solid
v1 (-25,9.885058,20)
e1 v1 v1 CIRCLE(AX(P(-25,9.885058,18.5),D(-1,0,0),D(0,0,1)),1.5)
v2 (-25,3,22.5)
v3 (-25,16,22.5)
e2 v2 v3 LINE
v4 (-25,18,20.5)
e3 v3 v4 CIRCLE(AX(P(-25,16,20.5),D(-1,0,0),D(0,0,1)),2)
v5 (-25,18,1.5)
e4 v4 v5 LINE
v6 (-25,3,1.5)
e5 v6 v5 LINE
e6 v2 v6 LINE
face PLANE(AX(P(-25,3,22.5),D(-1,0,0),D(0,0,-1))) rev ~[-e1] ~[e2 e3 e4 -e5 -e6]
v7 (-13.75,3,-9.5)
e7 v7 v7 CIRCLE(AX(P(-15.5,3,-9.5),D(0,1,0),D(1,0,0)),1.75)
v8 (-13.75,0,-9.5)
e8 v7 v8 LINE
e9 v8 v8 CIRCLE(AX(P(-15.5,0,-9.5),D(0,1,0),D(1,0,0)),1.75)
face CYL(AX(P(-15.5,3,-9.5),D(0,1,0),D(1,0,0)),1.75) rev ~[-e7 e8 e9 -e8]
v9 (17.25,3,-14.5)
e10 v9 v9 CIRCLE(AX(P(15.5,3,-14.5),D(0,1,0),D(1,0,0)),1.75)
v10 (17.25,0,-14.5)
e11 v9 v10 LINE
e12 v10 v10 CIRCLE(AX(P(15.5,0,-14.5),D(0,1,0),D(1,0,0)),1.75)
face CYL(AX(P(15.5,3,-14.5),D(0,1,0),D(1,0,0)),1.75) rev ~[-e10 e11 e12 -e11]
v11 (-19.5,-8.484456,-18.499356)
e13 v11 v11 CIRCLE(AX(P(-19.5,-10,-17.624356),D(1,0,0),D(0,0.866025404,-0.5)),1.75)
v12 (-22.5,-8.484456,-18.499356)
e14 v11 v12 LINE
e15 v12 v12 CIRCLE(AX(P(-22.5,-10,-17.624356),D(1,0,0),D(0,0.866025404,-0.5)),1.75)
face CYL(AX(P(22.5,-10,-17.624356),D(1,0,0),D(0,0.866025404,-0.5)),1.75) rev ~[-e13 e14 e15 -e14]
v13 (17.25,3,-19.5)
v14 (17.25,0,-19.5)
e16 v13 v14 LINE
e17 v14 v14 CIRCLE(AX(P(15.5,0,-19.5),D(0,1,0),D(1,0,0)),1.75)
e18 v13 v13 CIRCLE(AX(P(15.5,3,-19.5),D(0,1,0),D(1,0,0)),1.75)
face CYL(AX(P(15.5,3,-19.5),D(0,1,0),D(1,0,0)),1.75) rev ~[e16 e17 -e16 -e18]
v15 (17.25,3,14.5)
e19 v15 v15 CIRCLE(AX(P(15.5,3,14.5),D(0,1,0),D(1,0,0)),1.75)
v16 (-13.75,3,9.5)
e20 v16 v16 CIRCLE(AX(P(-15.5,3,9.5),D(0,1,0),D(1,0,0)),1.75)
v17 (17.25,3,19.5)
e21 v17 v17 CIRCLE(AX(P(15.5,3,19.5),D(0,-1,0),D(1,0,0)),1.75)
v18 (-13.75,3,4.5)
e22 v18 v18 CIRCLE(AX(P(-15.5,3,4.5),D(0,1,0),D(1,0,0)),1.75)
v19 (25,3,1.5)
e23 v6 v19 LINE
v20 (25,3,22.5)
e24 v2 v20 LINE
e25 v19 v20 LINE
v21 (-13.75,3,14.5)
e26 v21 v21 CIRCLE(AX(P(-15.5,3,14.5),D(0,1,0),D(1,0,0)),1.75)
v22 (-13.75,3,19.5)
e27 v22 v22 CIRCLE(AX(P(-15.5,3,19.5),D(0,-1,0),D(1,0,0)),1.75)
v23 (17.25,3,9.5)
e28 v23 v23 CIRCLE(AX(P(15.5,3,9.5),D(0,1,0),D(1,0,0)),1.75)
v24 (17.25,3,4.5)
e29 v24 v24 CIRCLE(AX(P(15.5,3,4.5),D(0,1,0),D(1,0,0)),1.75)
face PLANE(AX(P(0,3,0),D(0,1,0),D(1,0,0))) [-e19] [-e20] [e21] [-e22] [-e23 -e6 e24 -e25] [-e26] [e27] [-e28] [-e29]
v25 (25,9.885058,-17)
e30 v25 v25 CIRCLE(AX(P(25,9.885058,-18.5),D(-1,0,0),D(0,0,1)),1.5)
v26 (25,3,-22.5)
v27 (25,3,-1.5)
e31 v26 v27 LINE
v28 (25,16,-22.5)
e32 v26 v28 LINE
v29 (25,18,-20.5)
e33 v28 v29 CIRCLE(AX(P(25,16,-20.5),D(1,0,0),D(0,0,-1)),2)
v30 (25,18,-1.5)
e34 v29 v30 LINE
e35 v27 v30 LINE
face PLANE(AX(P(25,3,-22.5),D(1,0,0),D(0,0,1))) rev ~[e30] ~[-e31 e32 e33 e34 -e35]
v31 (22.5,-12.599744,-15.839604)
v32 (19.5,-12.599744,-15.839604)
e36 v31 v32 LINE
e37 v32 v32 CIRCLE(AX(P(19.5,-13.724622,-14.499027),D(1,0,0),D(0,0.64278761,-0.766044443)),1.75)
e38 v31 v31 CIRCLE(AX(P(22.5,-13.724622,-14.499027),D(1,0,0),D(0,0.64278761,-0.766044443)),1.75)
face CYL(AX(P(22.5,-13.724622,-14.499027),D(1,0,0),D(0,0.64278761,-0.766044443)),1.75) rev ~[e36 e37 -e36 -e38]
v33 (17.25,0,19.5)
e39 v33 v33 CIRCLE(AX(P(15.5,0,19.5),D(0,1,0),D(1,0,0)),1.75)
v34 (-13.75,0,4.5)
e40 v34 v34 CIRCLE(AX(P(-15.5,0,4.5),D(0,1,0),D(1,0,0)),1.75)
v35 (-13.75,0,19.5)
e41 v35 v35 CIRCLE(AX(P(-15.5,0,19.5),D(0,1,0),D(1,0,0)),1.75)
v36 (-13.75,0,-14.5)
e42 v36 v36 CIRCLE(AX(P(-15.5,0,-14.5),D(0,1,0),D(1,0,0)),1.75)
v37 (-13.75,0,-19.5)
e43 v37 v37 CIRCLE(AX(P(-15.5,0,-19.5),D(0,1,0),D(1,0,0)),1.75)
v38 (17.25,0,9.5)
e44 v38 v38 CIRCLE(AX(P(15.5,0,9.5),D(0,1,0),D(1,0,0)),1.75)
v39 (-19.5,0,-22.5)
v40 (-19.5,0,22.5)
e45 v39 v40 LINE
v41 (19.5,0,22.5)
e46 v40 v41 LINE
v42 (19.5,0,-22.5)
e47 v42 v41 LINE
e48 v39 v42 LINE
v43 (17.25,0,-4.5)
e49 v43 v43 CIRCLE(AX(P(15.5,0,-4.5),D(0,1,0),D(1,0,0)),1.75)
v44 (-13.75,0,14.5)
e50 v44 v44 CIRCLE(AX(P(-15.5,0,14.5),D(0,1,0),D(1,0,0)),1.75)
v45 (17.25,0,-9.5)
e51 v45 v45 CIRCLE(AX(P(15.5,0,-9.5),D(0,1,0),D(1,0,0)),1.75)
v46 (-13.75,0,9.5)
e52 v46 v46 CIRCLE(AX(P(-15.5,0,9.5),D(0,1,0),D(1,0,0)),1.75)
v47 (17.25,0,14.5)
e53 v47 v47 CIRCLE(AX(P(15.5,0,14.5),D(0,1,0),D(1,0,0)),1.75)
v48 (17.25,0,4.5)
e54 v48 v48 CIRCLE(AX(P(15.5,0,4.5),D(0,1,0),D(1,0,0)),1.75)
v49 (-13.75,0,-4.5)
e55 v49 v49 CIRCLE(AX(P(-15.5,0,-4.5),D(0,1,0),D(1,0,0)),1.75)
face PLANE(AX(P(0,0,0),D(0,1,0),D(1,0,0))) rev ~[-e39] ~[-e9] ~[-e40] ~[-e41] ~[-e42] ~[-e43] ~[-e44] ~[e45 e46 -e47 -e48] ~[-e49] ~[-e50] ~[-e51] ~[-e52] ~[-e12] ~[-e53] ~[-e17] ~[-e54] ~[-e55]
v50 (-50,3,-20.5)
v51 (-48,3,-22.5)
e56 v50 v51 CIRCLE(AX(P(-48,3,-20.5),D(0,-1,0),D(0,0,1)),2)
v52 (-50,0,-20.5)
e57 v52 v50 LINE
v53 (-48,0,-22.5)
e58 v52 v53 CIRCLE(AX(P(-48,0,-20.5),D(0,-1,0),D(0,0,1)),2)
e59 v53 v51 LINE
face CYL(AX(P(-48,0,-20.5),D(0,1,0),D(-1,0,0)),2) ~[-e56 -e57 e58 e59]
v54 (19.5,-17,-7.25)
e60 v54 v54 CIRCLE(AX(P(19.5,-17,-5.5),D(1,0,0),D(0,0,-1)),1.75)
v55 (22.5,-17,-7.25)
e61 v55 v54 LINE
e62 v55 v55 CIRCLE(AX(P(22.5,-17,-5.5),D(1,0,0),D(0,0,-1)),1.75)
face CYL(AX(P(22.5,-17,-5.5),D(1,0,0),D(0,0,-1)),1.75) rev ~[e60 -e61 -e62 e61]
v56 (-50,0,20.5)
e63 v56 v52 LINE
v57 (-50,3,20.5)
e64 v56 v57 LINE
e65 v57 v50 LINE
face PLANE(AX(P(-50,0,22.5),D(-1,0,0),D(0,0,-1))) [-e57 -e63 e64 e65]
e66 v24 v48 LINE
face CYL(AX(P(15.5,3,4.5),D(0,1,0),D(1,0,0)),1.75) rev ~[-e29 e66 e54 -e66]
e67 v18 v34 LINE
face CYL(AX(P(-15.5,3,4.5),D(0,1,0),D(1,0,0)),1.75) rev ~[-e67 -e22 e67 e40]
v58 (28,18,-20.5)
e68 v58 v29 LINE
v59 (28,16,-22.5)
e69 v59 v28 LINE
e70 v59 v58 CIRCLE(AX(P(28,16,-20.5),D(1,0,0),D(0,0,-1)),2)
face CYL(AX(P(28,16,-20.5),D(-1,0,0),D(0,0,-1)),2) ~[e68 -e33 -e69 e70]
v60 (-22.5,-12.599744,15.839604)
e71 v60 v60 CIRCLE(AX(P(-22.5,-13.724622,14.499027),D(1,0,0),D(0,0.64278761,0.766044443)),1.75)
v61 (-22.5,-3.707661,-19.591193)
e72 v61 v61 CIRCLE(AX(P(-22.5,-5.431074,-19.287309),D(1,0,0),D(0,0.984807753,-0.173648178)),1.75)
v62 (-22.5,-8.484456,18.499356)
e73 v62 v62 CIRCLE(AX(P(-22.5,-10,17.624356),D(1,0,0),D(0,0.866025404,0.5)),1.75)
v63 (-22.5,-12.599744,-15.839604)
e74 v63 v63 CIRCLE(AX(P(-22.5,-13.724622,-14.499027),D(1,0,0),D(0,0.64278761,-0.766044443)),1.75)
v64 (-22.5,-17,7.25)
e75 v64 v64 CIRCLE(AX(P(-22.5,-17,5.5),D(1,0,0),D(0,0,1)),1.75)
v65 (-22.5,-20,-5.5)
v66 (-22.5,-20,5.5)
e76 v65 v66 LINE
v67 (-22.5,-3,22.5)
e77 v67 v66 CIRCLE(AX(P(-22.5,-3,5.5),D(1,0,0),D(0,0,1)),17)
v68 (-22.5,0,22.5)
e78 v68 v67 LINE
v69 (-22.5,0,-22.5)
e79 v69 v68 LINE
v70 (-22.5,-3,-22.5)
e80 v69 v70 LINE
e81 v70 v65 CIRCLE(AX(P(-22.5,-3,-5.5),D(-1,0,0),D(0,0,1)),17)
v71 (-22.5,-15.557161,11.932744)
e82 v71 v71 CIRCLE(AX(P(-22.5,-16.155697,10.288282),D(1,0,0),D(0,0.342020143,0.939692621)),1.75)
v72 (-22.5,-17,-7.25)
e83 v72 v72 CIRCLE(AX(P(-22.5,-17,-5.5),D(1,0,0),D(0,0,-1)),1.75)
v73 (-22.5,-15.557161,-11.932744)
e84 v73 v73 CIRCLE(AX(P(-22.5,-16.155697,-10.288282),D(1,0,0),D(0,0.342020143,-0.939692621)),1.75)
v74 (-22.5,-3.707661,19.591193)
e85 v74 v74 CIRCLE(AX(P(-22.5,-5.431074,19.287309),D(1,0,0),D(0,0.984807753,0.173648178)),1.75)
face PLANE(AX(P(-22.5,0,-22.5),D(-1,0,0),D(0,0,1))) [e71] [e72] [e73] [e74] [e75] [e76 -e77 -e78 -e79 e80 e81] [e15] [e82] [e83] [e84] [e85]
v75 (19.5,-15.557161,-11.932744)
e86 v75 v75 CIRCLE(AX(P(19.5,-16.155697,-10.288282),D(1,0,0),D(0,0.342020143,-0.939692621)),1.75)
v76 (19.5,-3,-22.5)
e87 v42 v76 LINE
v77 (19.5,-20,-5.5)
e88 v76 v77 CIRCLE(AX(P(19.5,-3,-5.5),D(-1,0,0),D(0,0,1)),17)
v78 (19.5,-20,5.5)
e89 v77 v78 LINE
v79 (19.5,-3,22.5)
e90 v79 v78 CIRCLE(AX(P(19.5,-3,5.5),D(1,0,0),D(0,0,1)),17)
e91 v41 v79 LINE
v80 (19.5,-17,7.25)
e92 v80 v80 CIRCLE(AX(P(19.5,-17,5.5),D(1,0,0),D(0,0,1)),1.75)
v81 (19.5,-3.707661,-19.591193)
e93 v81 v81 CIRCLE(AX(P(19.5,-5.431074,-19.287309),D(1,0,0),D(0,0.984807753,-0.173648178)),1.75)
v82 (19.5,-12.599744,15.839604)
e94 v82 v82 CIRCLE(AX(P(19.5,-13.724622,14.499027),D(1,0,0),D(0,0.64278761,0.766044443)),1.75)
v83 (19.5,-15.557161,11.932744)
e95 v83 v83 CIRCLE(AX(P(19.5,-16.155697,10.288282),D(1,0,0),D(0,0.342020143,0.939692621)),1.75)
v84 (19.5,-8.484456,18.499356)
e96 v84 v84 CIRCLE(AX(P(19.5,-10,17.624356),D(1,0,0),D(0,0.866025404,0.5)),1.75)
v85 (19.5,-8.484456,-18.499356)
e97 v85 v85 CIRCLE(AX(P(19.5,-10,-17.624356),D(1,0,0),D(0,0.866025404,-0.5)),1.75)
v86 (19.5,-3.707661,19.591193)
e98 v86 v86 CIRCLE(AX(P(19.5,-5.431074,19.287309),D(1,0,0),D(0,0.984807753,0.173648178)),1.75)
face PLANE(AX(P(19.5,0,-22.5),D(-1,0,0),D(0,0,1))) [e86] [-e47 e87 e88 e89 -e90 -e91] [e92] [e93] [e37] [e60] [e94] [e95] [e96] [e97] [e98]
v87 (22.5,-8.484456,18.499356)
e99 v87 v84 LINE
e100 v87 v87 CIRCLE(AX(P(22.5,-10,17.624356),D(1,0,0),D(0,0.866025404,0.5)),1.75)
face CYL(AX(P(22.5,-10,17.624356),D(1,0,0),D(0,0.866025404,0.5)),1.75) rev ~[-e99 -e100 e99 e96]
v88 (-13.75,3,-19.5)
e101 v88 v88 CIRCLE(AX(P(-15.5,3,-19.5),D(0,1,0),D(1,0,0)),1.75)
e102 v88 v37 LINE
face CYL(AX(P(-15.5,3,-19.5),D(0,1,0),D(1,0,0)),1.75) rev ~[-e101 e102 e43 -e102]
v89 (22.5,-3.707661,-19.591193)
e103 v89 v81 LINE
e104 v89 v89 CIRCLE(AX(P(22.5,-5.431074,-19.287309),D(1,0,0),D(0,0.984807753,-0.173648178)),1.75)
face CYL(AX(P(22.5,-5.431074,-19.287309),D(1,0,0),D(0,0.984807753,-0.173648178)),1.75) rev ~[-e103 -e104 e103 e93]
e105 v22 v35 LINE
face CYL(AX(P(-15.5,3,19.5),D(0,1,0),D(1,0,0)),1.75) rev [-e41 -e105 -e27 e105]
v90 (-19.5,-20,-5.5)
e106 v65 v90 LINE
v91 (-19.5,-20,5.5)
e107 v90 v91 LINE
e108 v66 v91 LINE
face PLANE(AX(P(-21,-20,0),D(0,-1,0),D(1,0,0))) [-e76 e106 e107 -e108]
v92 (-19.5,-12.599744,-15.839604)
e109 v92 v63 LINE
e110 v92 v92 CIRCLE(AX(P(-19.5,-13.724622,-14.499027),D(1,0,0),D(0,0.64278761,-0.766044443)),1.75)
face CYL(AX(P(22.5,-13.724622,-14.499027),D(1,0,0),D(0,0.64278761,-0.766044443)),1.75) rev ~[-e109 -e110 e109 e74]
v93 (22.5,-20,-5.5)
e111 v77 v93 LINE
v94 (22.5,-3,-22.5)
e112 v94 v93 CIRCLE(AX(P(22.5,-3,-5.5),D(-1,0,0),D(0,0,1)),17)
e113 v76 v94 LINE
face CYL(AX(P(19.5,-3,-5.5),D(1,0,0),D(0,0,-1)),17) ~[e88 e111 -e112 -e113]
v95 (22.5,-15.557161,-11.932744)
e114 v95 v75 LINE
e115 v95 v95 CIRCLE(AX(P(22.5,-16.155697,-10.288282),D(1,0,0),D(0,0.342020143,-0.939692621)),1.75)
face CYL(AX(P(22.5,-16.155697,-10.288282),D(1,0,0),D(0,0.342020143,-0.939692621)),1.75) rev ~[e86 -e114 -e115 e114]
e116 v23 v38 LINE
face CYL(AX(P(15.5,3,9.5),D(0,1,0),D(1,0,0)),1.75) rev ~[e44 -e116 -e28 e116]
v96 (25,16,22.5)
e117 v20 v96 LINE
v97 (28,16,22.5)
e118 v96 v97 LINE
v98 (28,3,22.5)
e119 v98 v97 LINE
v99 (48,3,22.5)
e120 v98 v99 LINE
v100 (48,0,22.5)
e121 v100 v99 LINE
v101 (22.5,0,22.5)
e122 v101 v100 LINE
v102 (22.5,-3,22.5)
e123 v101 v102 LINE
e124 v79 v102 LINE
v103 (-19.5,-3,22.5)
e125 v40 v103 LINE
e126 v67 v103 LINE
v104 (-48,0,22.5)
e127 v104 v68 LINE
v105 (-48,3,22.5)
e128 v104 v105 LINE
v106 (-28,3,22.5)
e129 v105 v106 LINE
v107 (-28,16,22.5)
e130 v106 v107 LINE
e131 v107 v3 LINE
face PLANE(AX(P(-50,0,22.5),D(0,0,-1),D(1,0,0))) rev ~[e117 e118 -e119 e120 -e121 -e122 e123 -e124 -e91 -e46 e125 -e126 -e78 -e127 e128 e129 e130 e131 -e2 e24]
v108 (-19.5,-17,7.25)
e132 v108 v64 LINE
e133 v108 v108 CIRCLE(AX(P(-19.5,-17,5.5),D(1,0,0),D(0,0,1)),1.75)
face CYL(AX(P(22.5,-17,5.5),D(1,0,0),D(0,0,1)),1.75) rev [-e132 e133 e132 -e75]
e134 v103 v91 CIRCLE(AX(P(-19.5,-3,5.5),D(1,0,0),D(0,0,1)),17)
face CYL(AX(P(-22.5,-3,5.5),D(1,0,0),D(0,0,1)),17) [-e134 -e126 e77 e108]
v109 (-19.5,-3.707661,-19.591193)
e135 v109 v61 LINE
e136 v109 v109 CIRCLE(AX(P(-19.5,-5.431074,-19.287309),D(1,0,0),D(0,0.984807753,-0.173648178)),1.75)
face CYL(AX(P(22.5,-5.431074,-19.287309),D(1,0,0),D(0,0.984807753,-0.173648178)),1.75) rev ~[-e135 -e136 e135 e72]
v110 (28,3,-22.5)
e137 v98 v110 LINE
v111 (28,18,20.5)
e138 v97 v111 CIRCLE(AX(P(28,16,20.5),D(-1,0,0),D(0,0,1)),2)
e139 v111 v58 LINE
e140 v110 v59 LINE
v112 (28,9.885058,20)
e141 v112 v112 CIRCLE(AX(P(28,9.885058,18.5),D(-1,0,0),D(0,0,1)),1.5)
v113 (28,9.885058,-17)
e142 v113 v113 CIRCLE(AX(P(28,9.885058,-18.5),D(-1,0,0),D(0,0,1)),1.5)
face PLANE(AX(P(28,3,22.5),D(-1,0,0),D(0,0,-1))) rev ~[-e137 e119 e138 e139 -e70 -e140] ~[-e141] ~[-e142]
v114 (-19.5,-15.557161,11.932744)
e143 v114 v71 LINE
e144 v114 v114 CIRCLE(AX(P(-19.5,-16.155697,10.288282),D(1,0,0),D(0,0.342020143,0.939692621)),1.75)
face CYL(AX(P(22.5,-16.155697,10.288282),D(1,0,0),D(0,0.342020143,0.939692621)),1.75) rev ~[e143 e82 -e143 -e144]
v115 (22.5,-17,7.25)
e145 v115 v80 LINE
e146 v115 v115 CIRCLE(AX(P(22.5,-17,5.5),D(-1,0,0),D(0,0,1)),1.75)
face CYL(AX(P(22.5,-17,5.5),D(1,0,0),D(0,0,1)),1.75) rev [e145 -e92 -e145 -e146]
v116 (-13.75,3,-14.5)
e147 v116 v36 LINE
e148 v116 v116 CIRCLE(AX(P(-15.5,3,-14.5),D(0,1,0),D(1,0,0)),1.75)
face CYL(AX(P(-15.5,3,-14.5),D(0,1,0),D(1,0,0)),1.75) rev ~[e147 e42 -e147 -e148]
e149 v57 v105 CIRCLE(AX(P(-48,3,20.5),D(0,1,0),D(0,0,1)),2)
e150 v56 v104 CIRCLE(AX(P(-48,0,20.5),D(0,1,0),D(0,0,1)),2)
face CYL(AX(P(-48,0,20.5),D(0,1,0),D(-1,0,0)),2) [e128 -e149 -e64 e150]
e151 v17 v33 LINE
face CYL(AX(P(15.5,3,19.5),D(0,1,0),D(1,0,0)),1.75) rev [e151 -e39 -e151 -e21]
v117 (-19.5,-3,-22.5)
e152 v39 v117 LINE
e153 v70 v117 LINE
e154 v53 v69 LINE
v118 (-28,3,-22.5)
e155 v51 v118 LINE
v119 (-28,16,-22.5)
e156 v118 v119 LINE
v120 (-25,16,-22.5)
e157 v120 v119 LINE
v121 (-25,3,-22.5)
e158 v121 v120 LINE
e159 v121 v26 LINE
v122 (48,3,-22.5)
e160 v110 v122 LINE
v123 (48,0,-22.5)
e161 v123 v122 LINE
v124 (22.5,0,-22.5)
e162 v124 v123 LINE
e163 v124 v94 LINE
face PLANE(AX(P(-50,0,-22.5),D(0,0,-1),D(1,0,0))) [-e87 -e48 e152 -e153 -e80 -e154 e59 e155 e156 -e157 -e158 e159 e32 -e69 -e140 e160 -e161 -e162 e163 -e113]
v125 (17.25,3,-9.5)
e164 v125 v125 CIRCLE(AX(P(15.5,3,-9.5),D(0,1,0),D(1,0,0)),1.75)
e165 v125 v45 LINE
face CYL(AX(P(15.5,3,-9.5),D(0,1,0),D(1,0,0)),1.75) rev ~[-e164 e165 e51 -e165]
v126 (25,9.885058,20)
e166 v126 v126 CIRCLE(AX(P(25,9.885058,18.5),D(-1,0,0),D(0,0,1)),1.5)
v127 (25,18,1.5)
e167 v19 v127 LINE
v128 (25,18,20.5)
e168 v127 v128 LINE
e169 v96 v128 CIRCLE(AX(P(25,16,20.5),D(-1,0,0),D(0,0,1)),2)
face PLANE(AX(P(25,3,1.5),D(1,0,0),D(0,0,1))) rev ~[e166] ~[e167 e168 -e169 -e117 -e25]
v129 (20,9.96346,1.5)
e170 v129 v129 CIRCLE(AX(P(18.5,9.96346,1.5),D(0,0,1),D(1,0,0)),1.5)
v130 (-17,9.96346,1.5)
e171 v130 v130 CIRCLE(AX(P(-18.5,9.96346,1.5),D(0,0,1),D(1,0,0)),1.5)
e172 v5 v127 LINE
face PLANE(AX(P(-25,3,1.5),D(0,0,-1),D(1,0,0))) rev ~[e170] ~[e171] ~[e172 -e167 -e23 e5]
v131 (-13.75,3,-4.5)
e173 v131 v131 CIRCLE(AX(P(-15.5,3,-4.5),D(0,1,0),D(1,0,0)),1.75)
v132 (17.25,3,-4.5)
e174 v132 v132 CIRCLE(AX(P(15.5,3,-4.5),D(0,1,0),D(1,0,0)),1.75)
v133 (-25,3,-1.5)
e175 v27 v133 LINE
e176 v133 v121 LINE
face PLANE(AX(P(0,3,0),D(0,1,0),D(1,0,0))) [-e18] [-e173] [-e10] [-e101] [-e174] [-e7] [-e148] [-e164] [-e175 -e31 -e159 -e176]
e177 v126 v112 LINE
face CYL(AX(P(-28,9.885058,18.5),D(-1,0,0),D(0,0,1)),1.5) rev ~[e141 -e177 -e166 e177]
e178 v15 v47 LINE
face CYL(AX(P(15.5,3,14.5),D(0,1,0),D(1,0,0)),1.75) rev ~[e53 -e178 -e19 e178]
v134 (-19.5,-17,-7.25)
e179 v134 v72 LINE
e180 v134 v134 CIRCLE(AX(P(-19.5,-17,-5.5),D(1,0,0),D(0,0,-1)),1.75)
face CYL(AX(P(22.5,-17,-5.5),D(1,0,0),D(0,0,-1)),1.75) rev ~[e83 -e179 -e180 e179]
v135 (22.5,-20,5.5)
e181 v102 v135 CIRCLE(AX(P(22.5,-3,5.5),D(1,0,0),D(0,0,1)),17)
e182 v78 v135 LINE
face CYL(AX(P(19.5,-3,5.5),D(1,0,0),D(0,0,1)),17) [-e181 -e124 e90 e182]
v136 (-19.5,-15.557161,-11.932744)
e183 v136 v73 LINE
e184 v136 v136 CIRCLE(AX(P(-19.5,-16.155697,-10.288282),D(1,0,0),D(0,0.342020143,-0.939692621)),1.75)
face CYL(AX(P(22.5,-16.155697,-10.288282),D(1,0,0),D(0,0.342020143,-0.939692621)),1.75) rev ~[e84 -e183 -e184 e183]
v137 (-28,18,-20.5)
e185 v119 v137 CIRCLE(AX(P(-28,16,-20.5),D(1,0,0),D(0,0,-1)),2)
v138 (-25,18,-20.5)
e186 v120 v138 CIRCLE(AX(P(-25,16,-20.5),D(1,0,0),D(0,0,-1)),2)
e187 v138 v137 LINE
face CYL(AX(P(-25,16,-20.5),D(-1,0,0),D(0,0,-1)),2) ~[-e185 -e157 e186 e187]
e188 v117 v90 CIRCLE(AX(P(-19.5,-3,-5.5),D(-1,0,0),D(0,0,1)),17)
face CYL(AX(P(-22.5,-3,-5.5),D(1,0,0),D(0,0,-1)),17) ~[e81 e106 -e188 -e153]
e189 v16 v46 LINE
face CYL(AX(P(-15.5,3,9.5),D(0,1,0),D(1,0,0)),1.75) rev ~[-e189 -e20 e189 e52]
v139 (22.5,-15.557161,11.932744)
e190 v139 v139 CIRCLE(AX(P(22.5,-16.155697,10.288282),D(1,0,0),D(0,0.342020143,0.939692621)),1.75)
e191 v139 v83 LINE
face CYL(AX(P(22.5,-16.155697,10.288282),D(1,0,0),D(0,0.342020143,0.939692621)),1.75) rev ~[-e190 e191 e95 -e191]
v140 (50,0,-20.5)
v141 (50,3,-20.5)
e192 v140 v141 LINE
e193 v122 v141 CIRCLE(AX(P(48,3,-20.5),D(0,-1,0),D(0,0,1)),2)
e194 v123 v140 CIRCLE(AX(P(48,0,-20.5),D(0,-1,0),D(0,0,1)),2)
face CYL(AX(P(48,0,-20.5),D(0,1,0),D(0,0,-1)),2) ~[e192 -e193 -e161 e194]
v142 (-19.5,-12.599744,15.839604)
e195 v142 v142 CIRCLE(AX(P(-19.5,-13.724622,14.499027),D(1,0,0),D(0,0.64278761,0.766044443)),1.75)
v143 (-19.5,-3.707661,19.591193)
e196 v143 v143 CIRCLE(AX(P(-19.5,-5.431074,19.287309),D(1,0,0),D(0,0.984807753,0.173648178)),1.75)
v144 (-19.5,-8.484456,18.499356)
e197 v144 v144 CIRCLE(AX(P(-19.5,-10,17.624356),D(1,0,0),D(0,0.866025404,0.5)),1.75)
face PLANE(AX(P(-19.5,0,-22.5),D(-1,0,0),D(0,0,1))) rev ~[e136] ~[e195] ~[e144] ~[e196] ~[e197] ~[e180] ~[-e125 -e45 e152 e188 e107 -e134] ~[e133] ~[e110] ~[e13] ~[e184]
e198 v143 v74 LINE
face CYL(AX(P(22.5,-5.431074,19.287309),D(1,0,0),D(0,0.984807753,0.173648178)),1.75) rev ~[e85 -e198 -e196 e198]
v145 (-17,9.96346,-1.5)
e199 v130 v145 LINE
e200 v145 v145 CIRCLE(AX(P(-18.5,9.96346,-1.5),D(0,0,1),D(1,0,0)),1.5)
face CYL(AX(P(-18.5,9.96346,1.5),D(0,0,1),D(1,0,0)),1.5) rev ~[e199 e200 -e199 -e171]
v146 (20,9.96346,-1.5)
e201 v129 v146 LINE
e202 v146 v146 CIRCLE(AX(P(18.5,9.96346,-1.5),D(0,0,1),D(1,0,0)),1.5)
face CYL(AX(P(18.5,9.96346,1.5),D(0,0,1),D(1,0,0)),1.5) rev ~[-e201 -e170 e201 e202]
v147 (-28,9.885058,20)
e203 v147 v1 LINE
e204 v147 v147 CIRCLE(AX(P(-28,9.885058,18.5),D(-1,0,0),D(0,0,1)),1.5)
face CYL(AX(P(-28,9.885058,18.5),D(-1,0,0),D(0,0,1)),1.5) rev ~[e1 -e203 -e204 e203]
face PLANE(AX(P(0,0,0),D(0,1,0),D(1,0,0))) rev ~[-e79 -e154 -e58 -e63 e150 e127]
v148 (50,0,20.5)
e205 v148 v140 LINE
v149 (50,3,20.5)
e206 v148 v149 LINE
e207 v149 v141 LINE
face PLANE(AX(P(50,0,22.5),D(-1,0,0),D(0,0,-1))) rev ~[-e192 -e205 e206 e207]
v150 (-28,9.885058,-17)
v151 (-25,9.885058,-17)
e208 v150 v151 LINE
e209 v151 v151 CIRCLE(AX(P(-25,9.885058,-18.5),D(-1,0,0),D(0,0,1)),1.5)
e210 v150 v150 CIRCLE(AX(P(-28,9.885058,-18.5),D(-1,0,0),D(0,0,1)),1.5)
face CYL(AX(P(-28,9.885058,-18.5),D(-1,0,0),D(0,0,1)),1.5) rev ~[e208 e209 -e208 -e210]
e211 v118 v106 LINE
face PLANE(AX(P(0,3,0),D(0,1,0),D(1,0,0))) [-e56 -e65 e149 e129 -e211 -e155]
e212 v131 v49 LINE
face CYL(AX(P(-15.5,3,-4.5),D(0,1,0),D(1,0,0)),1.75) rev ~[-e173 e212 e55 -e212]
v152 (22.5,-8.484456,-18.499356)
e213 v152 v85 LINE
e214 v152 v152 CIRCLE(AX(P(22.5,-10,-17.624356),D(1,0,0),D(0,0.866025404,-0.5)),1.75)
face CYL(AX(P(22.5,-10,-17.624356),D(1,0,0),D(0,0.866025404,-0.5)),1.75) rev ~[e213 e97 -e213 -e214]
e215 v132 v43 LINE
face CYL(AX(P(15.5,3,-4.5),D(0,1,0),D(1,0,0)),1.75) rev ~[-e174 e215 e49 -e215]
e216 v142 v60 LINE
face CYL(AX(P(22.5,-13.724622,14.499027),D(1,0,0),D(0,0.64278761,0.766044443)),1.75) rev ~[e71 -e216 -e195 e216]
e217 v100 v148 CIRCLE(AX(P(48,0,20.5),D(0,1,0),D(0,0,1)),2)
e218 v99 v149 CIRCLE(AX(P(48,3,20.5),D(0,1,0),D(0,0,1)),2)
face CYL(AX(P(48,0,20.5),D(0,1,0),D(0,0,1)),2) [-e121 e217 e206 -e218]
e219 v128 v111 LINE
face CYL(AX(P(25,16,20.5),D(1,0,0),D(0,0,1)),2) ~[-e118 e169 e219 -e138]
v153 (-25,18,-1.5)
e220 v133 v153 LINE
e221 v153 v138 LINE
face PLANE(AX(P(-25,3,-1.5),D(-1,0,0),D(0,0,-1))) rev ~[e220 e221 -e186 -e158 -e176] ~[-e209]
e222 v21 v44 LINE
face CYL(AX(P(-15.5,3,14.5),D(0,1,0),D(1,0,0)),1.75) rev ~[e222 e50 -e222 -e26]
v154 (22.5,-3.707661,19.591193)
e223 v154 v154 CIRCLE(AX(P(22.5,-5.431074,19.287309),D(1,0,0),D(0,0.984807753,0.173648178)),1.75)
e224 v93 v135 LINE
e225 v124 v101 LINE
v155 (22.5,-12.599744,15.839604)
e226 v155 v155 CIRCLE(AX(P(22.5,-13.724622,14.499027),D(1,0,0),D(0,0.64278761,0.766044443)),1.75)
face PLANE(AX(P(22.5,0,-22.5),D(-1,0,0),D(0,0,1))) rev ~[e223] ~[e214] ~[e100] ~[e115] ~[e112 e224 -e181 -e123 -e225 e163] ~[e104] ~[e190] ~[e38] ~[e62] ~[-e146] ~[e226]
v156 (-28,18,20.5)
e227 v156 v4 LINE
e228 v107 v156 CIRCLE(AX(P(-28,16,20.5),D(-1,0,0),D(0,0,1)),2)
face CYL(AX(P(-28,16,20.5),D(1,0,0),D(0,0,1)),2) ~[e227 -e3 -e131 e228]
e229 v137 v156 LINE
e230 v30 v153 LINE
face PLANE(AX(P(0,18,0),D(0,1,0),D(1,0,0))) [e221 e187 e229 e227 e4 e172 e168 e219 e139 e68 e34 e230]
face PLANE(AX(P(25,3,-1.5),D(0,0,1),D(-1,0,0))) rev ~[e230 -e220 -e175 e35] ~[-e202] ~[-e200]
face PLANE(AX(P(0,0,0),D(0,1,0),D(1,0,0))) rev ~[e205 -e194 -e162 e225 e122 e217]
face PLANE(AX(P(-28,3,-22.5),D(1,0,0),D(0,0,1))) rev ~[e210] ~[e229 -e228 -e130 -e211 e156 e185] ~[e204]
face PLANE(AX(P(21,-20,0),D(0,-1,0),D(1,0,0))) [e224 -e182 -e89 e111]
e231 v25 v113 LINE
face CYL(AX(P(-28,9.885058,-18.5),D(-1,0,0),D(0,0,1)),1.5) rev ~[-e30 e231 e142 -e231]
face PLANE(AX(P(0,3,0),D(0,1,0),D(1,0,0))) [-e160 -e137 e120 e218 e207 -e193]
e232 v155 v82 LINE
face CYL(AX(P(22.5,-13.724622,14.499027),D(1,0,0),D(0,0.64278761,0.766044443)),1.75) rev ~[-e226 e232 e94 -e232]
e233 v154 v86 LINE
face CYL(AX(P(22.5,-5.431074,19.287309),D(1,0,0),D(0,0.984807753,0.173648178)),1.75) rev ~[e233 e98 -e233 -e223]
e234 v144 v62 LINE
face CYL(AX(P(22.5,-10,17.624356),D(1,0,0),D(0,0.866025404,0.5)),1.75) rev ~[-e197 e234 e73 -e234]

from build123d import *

# Parameters (mm, degrees)
SKETCH1_W               = 100
SKETCH1_H               = 45
BOSS_EXTRUDE1_DEPTH     = 3
BOSS_EXTRUDE2_DEPTH     = 15
SKETCH4_R               = 1.5
CUT_EXTRUDE1_DEPTH      = 79
SKETCH5_R               = 1.5
CUT_EXTRUDE2_DEPTH      = 25
FILLET1_R               = 2
SKETCH6_W               = 3
SKETCH6_H               = 45
BOSS_EXTRUDE3_DEPTH     = 20
FILLET2_R               = 17
SKETCH7_R               = 1.75
CUT_EXTRUDE3_DEPTH      = 73.5
CIRPATTERN1_COUNT       = 5
CIRPATTERN1_ANGLE       = 80
MIRROR1_COPY_1_SKETCH_R = 1.75
MIRROR1_COPY_1_DEPTH    = 73.5
MIRROR1_COPY_2_SKETCH_R = 1.75
MIRROR1_COPY_2_DEPTH    = 73.5
MIRROR1_COPY_3_SKETCH_R = 1.75
MIRROR1_COPY_3_DEPTH    = 73.5
MIRROR1_COPY_4_SKETCH_R = 1.75
MIRROR1_COPY_4_DEPTH    = 73.5
SKETCH8_R               = 1.75
CUT_EXTRUDE4_DEPTH      = 24
LPATTERN1_COUNT         = 4
LPATTERN1_PITCH         = 5
MIRROR2_COPY_1_SKETCH_R = 1.75
MIRROR2_COPY_1_DEPTH    = 24
MIRROR2_COPY_2_SKETCH_R = 1.75
MIRROR2_COPY_2_DEPTH    = 24
MIRROR2_COPY_3_SKETCH_R = 1.75
MIRROR2_COPY_3_DEPTH    = 24


with BuildPart() as part:
    # Sketch1 → Boss-Extrude1 (new body)
    with BuildSketch(Plane(origin=(0, 0, 0), x_dir=(1, 0, 0), z_dir=(0, 1, 0))):
        Rectangle(SKETCH1_W, SKETCH1_H)
    extrude(amount=BOSS_EXTRUDE1_DEPTH)

    # Sketch2 → Boss-Extrude2 (add)
    with BuildSketch(Plane(origin=(0, 3, 0), x_dir=(1, 0, 0), z_dir=(0, 1, 0))):
        Polygon((-25, 22.5), (-28, 22.5), (-28, -22.5), (-25, -22.5), (-25, -1.5), (25, -1.5), (25, -22.5), (28, -22.5), (28, 22.5), (25, 22.5), (25, 1.5), (-25, 1.5), align=None)
    extrude(amount=BOSS_EXTRUDE2_DEPTH)

    # Sketch4 → Cut-Extrude1 (cut, through all)
    with BuildSketch(Plane.ZY.offset(28)):
        with Locations((-18.5, 9.88505799)):
            Circle(SKETCH4_R)
        with Locations((18.5, 9.88505799)):
            Circle(SKETCH4_R)
    extrude(amount=-CUT_EXTRUDE1_DEPTH, mode=Mode.SUBTRACT)

    # Sketch5 → Cut-Extrude2 (cut, through all)
    with BuildSketch(Plane.XY.offset(1.5)):
        with Locations((-18.5, 9.963459829)):
            Circle(SKETCH5_R)
        with Locations((18.5, 9.963459829)):
            Circle(SKETCH5_R)
    extrude(amount=-CUT_EXTRUDE2_DEPTH, mode=Mode.SUBTRACT)

    # Fillet1
    fillet1_edges = [part.edges().sort_by_distance(p)[0] for p in [
        (-26.5, 18, 22.5),
        (26.5, 18, 22.5),
        (26.5, 18, -22.5),
        (-26.5, 18, -22.5),
        (50, 1.5, 22.5),
        (-50, 1.5, 22.5),
        (-50, 1.5, -22.5),
        (50, 1.5, -22.5),
    ]]
    fillet(fillet1_edges, radius=FILLET1_R)

    # Sketch6 → Boss-Extrude3 (add)
    with BuildSketch(Plane.XZ):
        with Locations((-21, 0)):
            Rectangle(SKETCH6_W, SKETCH6_H)
        with Locations((21, 0)):
            Rectangle(SKETCH6_W, SKETCH6_H)
    extrude(amount=BOSS_EXTRUDE3_DEPTH)

    # Fillet2
    fillet2_edges = [part.edges().sort_by_distance(p)[0] for p in [
        (-21, -20, 22.5),
        (-21, -20, -22.5),
        (21, -20, -22.5),
        (21, -20, 22.5),
    ]]
    fillet(fillet2_edges, radius=FILLET2_R)

    # Sketch7 → Cut-Extrude3 (cut, through all)
    with BuildSketch(Plane(origin=(22.5, 0, 0), x_dir=(0, 0, -1), z_dir=(1, 0, 0))):
        with Locations((5.5, -17)):
            Circle(SKETCH7_R)
    cut_extrude3 = extrude(amount=-CUT_EXTRUDE3_DEPTH, mode=Mode.SUBTRACT)

    # CirPattern1: Cut-Extrude3 ×5 about axis
    cirpattern1_axis = Axis((0, -3, -5.5), (1, 0, 0))
    for i in range(1, CIRPATTERN1_COUNT):
        add(cut_extrude3.rotate(cirpattern1_axis, i * CIRPATTERN1_ANGLE / (CIRPATTERN1_COUNT - 1)), mode=Mode.SUBTRACT)

    # Mirror1: Cut-Extrude3 across plane
    add(cut_extrude3.mirror(Plane.XY), mode=Mode.SUBTRACT)

    # Mirror1 copy 1 sketch → Mirror1 copy 1 (cut, through all)
    with BuildSketch(Plane(origin=(22.5, -2.062032926, -0.694369844), x_dir=(0, 0.342020143, 0.939692621), z_dir=(1, 0, 0))):
        with Locations((5.5, 17)):
            Circle(MIRROR1_COPY_1_SKETCH_R)
    extrude(amount=-MIRROR1_COPY_1_DEPTH, mode=Mode.SUBTRACT)

    # Mirror1 copy 2 sketch → Mirror1 copy 2 (cut, through all)
    with BuildSketch(Plane(origin=(22.5, -4.237198524, -0.641607266), x_dir=(0, 0.64278761, 0.766044443), z_dir=(1, 0, 0))):
        with Locations((5.5, 17)):
            Circle(MIRROR1_COPY_2_SKETCH_R)
    extrude(amount=-MIRROR1_COPY_2_DEPTH, mode=Mode.SUBTRACT)

    # Mirror1 copy 3 sketch → Mirror1 copy 3 (cut, through all)
    with BuildSketch(Plane(origin=(22.5, -6.263139721, 0.151923789), x_dir=(0, 0.866025404, 0.5), z_dir=(1, 0, 0))):
        with Locations((5.5, 17)):
            Circle(MIRROR1_COPY_3_SKETCH_R)
    extrude(amount=-MIRROR1_COPY_3_DEPTH, mode=Mode.SUBTRACT)

    # Mirror1 copy 4 sketch → Mirror1 copy 4 (cut, through all)
    with BuildSketch(Plane(origin=(22.5, -7.895498109, 1.590511764), x_dir=(0, 0.984807753, 0.173648178), z_dir=(1, 0, 0))):
        with Locations((5.5, 17)):
            Circle(MIRROR1_COPY_4_SKETCH_R)
    extrude(amount=-MIRROR1_COPY_4_DEPTH, mode=Mode.SUBTRACT)

    # Sketch8 → Cut-Extrude4 (cut, through all)
    with BuildSketch(Plane(origin=(0, 3, 0), x_dir=(1, 0, 0), z_dir=(0, 1, 0))):
        with Locations((-15.5, 19.5)):
            Circle(SKETCH8_R)
        with Locations((15.5, 19.5)):
            Circle(SKETCH8_R)
    cut_extrude4 = extrude(amount=-CUT_EXTRUDE4_DEPTH, mode=Mode.SUBTRACT)

    # LPattern1: Cut-Extrude4 ×4
    with Locations(*[(0, 0, i * LPATTERN1_PITCH) for i in range(1, LPATTERN1_COUNT)]):
        add(cut_extrude4, mode=Mode.SUBTRACT)

    # Mirror2: Cut-Extrude4 across plane
    add(cut_extrude4.mirror(Plane.XY), mode=Mode.SUBTRACT)

    # Mirror2 copy 1 sketch → Mirror2 copy 1 (cut, through all)
    with BuildSketch(Plane(origin=(0, 3, -5), x_dir=(1, 0, 0), z_dir=(0, 1, 0))):
        with Locations((-15.5, -19.5)):
            Circle(MIRROR2_COPY_1_SKETCH_R)
        with Locations((15.5, -19.5)):
            Circle(MIRROR2_COPY_1_SKETCH_R)
    extrude(amount=-MIRROR2_COPY_1_DEPTH, mode=Mode.SUBTRACT)

    # Mirror2 copy 2 sketch → Mirror2 copy 2 (cut, through all)
    with BuildSketch(Plane(origin=(0, 3, -10), x_dir=(1, 0, 0), z_dir=(0, 1, 0))):
        with Locations((-15.5, -19.5)):
            Circle(MIRROR2_COPY_2_SKETCH_R)
        with Locations((15.5, -19.5)):
            Circle(MIRROR2_COPY_2_SKETCH_R)
    extrude(amount=-MIRROR2_COPY_2_DEPTH, mode=Mode.SUBTRACT)

    # Mirror2 copy 3 sketch → Mirror2 copy 3 (cut, through all)
    with BuildSketch(Plane(origin=(0, 3, -15), x_dir=(1, 0, 0), z_dir=(0, 1, 0))):
        with Locations((-15.5, -19.5)):
            Circle(MIRROR2_COPY_3_SKETCH_R)
        with Locations((15.5, -19.5)):
            Circle(MIRROR2_COPY_3_SKETCH_R)
    extrude(amount=-MIRROR2_COPY_3_DEPTH, mode=Mode.SUBTRACT)


solid = part.part
